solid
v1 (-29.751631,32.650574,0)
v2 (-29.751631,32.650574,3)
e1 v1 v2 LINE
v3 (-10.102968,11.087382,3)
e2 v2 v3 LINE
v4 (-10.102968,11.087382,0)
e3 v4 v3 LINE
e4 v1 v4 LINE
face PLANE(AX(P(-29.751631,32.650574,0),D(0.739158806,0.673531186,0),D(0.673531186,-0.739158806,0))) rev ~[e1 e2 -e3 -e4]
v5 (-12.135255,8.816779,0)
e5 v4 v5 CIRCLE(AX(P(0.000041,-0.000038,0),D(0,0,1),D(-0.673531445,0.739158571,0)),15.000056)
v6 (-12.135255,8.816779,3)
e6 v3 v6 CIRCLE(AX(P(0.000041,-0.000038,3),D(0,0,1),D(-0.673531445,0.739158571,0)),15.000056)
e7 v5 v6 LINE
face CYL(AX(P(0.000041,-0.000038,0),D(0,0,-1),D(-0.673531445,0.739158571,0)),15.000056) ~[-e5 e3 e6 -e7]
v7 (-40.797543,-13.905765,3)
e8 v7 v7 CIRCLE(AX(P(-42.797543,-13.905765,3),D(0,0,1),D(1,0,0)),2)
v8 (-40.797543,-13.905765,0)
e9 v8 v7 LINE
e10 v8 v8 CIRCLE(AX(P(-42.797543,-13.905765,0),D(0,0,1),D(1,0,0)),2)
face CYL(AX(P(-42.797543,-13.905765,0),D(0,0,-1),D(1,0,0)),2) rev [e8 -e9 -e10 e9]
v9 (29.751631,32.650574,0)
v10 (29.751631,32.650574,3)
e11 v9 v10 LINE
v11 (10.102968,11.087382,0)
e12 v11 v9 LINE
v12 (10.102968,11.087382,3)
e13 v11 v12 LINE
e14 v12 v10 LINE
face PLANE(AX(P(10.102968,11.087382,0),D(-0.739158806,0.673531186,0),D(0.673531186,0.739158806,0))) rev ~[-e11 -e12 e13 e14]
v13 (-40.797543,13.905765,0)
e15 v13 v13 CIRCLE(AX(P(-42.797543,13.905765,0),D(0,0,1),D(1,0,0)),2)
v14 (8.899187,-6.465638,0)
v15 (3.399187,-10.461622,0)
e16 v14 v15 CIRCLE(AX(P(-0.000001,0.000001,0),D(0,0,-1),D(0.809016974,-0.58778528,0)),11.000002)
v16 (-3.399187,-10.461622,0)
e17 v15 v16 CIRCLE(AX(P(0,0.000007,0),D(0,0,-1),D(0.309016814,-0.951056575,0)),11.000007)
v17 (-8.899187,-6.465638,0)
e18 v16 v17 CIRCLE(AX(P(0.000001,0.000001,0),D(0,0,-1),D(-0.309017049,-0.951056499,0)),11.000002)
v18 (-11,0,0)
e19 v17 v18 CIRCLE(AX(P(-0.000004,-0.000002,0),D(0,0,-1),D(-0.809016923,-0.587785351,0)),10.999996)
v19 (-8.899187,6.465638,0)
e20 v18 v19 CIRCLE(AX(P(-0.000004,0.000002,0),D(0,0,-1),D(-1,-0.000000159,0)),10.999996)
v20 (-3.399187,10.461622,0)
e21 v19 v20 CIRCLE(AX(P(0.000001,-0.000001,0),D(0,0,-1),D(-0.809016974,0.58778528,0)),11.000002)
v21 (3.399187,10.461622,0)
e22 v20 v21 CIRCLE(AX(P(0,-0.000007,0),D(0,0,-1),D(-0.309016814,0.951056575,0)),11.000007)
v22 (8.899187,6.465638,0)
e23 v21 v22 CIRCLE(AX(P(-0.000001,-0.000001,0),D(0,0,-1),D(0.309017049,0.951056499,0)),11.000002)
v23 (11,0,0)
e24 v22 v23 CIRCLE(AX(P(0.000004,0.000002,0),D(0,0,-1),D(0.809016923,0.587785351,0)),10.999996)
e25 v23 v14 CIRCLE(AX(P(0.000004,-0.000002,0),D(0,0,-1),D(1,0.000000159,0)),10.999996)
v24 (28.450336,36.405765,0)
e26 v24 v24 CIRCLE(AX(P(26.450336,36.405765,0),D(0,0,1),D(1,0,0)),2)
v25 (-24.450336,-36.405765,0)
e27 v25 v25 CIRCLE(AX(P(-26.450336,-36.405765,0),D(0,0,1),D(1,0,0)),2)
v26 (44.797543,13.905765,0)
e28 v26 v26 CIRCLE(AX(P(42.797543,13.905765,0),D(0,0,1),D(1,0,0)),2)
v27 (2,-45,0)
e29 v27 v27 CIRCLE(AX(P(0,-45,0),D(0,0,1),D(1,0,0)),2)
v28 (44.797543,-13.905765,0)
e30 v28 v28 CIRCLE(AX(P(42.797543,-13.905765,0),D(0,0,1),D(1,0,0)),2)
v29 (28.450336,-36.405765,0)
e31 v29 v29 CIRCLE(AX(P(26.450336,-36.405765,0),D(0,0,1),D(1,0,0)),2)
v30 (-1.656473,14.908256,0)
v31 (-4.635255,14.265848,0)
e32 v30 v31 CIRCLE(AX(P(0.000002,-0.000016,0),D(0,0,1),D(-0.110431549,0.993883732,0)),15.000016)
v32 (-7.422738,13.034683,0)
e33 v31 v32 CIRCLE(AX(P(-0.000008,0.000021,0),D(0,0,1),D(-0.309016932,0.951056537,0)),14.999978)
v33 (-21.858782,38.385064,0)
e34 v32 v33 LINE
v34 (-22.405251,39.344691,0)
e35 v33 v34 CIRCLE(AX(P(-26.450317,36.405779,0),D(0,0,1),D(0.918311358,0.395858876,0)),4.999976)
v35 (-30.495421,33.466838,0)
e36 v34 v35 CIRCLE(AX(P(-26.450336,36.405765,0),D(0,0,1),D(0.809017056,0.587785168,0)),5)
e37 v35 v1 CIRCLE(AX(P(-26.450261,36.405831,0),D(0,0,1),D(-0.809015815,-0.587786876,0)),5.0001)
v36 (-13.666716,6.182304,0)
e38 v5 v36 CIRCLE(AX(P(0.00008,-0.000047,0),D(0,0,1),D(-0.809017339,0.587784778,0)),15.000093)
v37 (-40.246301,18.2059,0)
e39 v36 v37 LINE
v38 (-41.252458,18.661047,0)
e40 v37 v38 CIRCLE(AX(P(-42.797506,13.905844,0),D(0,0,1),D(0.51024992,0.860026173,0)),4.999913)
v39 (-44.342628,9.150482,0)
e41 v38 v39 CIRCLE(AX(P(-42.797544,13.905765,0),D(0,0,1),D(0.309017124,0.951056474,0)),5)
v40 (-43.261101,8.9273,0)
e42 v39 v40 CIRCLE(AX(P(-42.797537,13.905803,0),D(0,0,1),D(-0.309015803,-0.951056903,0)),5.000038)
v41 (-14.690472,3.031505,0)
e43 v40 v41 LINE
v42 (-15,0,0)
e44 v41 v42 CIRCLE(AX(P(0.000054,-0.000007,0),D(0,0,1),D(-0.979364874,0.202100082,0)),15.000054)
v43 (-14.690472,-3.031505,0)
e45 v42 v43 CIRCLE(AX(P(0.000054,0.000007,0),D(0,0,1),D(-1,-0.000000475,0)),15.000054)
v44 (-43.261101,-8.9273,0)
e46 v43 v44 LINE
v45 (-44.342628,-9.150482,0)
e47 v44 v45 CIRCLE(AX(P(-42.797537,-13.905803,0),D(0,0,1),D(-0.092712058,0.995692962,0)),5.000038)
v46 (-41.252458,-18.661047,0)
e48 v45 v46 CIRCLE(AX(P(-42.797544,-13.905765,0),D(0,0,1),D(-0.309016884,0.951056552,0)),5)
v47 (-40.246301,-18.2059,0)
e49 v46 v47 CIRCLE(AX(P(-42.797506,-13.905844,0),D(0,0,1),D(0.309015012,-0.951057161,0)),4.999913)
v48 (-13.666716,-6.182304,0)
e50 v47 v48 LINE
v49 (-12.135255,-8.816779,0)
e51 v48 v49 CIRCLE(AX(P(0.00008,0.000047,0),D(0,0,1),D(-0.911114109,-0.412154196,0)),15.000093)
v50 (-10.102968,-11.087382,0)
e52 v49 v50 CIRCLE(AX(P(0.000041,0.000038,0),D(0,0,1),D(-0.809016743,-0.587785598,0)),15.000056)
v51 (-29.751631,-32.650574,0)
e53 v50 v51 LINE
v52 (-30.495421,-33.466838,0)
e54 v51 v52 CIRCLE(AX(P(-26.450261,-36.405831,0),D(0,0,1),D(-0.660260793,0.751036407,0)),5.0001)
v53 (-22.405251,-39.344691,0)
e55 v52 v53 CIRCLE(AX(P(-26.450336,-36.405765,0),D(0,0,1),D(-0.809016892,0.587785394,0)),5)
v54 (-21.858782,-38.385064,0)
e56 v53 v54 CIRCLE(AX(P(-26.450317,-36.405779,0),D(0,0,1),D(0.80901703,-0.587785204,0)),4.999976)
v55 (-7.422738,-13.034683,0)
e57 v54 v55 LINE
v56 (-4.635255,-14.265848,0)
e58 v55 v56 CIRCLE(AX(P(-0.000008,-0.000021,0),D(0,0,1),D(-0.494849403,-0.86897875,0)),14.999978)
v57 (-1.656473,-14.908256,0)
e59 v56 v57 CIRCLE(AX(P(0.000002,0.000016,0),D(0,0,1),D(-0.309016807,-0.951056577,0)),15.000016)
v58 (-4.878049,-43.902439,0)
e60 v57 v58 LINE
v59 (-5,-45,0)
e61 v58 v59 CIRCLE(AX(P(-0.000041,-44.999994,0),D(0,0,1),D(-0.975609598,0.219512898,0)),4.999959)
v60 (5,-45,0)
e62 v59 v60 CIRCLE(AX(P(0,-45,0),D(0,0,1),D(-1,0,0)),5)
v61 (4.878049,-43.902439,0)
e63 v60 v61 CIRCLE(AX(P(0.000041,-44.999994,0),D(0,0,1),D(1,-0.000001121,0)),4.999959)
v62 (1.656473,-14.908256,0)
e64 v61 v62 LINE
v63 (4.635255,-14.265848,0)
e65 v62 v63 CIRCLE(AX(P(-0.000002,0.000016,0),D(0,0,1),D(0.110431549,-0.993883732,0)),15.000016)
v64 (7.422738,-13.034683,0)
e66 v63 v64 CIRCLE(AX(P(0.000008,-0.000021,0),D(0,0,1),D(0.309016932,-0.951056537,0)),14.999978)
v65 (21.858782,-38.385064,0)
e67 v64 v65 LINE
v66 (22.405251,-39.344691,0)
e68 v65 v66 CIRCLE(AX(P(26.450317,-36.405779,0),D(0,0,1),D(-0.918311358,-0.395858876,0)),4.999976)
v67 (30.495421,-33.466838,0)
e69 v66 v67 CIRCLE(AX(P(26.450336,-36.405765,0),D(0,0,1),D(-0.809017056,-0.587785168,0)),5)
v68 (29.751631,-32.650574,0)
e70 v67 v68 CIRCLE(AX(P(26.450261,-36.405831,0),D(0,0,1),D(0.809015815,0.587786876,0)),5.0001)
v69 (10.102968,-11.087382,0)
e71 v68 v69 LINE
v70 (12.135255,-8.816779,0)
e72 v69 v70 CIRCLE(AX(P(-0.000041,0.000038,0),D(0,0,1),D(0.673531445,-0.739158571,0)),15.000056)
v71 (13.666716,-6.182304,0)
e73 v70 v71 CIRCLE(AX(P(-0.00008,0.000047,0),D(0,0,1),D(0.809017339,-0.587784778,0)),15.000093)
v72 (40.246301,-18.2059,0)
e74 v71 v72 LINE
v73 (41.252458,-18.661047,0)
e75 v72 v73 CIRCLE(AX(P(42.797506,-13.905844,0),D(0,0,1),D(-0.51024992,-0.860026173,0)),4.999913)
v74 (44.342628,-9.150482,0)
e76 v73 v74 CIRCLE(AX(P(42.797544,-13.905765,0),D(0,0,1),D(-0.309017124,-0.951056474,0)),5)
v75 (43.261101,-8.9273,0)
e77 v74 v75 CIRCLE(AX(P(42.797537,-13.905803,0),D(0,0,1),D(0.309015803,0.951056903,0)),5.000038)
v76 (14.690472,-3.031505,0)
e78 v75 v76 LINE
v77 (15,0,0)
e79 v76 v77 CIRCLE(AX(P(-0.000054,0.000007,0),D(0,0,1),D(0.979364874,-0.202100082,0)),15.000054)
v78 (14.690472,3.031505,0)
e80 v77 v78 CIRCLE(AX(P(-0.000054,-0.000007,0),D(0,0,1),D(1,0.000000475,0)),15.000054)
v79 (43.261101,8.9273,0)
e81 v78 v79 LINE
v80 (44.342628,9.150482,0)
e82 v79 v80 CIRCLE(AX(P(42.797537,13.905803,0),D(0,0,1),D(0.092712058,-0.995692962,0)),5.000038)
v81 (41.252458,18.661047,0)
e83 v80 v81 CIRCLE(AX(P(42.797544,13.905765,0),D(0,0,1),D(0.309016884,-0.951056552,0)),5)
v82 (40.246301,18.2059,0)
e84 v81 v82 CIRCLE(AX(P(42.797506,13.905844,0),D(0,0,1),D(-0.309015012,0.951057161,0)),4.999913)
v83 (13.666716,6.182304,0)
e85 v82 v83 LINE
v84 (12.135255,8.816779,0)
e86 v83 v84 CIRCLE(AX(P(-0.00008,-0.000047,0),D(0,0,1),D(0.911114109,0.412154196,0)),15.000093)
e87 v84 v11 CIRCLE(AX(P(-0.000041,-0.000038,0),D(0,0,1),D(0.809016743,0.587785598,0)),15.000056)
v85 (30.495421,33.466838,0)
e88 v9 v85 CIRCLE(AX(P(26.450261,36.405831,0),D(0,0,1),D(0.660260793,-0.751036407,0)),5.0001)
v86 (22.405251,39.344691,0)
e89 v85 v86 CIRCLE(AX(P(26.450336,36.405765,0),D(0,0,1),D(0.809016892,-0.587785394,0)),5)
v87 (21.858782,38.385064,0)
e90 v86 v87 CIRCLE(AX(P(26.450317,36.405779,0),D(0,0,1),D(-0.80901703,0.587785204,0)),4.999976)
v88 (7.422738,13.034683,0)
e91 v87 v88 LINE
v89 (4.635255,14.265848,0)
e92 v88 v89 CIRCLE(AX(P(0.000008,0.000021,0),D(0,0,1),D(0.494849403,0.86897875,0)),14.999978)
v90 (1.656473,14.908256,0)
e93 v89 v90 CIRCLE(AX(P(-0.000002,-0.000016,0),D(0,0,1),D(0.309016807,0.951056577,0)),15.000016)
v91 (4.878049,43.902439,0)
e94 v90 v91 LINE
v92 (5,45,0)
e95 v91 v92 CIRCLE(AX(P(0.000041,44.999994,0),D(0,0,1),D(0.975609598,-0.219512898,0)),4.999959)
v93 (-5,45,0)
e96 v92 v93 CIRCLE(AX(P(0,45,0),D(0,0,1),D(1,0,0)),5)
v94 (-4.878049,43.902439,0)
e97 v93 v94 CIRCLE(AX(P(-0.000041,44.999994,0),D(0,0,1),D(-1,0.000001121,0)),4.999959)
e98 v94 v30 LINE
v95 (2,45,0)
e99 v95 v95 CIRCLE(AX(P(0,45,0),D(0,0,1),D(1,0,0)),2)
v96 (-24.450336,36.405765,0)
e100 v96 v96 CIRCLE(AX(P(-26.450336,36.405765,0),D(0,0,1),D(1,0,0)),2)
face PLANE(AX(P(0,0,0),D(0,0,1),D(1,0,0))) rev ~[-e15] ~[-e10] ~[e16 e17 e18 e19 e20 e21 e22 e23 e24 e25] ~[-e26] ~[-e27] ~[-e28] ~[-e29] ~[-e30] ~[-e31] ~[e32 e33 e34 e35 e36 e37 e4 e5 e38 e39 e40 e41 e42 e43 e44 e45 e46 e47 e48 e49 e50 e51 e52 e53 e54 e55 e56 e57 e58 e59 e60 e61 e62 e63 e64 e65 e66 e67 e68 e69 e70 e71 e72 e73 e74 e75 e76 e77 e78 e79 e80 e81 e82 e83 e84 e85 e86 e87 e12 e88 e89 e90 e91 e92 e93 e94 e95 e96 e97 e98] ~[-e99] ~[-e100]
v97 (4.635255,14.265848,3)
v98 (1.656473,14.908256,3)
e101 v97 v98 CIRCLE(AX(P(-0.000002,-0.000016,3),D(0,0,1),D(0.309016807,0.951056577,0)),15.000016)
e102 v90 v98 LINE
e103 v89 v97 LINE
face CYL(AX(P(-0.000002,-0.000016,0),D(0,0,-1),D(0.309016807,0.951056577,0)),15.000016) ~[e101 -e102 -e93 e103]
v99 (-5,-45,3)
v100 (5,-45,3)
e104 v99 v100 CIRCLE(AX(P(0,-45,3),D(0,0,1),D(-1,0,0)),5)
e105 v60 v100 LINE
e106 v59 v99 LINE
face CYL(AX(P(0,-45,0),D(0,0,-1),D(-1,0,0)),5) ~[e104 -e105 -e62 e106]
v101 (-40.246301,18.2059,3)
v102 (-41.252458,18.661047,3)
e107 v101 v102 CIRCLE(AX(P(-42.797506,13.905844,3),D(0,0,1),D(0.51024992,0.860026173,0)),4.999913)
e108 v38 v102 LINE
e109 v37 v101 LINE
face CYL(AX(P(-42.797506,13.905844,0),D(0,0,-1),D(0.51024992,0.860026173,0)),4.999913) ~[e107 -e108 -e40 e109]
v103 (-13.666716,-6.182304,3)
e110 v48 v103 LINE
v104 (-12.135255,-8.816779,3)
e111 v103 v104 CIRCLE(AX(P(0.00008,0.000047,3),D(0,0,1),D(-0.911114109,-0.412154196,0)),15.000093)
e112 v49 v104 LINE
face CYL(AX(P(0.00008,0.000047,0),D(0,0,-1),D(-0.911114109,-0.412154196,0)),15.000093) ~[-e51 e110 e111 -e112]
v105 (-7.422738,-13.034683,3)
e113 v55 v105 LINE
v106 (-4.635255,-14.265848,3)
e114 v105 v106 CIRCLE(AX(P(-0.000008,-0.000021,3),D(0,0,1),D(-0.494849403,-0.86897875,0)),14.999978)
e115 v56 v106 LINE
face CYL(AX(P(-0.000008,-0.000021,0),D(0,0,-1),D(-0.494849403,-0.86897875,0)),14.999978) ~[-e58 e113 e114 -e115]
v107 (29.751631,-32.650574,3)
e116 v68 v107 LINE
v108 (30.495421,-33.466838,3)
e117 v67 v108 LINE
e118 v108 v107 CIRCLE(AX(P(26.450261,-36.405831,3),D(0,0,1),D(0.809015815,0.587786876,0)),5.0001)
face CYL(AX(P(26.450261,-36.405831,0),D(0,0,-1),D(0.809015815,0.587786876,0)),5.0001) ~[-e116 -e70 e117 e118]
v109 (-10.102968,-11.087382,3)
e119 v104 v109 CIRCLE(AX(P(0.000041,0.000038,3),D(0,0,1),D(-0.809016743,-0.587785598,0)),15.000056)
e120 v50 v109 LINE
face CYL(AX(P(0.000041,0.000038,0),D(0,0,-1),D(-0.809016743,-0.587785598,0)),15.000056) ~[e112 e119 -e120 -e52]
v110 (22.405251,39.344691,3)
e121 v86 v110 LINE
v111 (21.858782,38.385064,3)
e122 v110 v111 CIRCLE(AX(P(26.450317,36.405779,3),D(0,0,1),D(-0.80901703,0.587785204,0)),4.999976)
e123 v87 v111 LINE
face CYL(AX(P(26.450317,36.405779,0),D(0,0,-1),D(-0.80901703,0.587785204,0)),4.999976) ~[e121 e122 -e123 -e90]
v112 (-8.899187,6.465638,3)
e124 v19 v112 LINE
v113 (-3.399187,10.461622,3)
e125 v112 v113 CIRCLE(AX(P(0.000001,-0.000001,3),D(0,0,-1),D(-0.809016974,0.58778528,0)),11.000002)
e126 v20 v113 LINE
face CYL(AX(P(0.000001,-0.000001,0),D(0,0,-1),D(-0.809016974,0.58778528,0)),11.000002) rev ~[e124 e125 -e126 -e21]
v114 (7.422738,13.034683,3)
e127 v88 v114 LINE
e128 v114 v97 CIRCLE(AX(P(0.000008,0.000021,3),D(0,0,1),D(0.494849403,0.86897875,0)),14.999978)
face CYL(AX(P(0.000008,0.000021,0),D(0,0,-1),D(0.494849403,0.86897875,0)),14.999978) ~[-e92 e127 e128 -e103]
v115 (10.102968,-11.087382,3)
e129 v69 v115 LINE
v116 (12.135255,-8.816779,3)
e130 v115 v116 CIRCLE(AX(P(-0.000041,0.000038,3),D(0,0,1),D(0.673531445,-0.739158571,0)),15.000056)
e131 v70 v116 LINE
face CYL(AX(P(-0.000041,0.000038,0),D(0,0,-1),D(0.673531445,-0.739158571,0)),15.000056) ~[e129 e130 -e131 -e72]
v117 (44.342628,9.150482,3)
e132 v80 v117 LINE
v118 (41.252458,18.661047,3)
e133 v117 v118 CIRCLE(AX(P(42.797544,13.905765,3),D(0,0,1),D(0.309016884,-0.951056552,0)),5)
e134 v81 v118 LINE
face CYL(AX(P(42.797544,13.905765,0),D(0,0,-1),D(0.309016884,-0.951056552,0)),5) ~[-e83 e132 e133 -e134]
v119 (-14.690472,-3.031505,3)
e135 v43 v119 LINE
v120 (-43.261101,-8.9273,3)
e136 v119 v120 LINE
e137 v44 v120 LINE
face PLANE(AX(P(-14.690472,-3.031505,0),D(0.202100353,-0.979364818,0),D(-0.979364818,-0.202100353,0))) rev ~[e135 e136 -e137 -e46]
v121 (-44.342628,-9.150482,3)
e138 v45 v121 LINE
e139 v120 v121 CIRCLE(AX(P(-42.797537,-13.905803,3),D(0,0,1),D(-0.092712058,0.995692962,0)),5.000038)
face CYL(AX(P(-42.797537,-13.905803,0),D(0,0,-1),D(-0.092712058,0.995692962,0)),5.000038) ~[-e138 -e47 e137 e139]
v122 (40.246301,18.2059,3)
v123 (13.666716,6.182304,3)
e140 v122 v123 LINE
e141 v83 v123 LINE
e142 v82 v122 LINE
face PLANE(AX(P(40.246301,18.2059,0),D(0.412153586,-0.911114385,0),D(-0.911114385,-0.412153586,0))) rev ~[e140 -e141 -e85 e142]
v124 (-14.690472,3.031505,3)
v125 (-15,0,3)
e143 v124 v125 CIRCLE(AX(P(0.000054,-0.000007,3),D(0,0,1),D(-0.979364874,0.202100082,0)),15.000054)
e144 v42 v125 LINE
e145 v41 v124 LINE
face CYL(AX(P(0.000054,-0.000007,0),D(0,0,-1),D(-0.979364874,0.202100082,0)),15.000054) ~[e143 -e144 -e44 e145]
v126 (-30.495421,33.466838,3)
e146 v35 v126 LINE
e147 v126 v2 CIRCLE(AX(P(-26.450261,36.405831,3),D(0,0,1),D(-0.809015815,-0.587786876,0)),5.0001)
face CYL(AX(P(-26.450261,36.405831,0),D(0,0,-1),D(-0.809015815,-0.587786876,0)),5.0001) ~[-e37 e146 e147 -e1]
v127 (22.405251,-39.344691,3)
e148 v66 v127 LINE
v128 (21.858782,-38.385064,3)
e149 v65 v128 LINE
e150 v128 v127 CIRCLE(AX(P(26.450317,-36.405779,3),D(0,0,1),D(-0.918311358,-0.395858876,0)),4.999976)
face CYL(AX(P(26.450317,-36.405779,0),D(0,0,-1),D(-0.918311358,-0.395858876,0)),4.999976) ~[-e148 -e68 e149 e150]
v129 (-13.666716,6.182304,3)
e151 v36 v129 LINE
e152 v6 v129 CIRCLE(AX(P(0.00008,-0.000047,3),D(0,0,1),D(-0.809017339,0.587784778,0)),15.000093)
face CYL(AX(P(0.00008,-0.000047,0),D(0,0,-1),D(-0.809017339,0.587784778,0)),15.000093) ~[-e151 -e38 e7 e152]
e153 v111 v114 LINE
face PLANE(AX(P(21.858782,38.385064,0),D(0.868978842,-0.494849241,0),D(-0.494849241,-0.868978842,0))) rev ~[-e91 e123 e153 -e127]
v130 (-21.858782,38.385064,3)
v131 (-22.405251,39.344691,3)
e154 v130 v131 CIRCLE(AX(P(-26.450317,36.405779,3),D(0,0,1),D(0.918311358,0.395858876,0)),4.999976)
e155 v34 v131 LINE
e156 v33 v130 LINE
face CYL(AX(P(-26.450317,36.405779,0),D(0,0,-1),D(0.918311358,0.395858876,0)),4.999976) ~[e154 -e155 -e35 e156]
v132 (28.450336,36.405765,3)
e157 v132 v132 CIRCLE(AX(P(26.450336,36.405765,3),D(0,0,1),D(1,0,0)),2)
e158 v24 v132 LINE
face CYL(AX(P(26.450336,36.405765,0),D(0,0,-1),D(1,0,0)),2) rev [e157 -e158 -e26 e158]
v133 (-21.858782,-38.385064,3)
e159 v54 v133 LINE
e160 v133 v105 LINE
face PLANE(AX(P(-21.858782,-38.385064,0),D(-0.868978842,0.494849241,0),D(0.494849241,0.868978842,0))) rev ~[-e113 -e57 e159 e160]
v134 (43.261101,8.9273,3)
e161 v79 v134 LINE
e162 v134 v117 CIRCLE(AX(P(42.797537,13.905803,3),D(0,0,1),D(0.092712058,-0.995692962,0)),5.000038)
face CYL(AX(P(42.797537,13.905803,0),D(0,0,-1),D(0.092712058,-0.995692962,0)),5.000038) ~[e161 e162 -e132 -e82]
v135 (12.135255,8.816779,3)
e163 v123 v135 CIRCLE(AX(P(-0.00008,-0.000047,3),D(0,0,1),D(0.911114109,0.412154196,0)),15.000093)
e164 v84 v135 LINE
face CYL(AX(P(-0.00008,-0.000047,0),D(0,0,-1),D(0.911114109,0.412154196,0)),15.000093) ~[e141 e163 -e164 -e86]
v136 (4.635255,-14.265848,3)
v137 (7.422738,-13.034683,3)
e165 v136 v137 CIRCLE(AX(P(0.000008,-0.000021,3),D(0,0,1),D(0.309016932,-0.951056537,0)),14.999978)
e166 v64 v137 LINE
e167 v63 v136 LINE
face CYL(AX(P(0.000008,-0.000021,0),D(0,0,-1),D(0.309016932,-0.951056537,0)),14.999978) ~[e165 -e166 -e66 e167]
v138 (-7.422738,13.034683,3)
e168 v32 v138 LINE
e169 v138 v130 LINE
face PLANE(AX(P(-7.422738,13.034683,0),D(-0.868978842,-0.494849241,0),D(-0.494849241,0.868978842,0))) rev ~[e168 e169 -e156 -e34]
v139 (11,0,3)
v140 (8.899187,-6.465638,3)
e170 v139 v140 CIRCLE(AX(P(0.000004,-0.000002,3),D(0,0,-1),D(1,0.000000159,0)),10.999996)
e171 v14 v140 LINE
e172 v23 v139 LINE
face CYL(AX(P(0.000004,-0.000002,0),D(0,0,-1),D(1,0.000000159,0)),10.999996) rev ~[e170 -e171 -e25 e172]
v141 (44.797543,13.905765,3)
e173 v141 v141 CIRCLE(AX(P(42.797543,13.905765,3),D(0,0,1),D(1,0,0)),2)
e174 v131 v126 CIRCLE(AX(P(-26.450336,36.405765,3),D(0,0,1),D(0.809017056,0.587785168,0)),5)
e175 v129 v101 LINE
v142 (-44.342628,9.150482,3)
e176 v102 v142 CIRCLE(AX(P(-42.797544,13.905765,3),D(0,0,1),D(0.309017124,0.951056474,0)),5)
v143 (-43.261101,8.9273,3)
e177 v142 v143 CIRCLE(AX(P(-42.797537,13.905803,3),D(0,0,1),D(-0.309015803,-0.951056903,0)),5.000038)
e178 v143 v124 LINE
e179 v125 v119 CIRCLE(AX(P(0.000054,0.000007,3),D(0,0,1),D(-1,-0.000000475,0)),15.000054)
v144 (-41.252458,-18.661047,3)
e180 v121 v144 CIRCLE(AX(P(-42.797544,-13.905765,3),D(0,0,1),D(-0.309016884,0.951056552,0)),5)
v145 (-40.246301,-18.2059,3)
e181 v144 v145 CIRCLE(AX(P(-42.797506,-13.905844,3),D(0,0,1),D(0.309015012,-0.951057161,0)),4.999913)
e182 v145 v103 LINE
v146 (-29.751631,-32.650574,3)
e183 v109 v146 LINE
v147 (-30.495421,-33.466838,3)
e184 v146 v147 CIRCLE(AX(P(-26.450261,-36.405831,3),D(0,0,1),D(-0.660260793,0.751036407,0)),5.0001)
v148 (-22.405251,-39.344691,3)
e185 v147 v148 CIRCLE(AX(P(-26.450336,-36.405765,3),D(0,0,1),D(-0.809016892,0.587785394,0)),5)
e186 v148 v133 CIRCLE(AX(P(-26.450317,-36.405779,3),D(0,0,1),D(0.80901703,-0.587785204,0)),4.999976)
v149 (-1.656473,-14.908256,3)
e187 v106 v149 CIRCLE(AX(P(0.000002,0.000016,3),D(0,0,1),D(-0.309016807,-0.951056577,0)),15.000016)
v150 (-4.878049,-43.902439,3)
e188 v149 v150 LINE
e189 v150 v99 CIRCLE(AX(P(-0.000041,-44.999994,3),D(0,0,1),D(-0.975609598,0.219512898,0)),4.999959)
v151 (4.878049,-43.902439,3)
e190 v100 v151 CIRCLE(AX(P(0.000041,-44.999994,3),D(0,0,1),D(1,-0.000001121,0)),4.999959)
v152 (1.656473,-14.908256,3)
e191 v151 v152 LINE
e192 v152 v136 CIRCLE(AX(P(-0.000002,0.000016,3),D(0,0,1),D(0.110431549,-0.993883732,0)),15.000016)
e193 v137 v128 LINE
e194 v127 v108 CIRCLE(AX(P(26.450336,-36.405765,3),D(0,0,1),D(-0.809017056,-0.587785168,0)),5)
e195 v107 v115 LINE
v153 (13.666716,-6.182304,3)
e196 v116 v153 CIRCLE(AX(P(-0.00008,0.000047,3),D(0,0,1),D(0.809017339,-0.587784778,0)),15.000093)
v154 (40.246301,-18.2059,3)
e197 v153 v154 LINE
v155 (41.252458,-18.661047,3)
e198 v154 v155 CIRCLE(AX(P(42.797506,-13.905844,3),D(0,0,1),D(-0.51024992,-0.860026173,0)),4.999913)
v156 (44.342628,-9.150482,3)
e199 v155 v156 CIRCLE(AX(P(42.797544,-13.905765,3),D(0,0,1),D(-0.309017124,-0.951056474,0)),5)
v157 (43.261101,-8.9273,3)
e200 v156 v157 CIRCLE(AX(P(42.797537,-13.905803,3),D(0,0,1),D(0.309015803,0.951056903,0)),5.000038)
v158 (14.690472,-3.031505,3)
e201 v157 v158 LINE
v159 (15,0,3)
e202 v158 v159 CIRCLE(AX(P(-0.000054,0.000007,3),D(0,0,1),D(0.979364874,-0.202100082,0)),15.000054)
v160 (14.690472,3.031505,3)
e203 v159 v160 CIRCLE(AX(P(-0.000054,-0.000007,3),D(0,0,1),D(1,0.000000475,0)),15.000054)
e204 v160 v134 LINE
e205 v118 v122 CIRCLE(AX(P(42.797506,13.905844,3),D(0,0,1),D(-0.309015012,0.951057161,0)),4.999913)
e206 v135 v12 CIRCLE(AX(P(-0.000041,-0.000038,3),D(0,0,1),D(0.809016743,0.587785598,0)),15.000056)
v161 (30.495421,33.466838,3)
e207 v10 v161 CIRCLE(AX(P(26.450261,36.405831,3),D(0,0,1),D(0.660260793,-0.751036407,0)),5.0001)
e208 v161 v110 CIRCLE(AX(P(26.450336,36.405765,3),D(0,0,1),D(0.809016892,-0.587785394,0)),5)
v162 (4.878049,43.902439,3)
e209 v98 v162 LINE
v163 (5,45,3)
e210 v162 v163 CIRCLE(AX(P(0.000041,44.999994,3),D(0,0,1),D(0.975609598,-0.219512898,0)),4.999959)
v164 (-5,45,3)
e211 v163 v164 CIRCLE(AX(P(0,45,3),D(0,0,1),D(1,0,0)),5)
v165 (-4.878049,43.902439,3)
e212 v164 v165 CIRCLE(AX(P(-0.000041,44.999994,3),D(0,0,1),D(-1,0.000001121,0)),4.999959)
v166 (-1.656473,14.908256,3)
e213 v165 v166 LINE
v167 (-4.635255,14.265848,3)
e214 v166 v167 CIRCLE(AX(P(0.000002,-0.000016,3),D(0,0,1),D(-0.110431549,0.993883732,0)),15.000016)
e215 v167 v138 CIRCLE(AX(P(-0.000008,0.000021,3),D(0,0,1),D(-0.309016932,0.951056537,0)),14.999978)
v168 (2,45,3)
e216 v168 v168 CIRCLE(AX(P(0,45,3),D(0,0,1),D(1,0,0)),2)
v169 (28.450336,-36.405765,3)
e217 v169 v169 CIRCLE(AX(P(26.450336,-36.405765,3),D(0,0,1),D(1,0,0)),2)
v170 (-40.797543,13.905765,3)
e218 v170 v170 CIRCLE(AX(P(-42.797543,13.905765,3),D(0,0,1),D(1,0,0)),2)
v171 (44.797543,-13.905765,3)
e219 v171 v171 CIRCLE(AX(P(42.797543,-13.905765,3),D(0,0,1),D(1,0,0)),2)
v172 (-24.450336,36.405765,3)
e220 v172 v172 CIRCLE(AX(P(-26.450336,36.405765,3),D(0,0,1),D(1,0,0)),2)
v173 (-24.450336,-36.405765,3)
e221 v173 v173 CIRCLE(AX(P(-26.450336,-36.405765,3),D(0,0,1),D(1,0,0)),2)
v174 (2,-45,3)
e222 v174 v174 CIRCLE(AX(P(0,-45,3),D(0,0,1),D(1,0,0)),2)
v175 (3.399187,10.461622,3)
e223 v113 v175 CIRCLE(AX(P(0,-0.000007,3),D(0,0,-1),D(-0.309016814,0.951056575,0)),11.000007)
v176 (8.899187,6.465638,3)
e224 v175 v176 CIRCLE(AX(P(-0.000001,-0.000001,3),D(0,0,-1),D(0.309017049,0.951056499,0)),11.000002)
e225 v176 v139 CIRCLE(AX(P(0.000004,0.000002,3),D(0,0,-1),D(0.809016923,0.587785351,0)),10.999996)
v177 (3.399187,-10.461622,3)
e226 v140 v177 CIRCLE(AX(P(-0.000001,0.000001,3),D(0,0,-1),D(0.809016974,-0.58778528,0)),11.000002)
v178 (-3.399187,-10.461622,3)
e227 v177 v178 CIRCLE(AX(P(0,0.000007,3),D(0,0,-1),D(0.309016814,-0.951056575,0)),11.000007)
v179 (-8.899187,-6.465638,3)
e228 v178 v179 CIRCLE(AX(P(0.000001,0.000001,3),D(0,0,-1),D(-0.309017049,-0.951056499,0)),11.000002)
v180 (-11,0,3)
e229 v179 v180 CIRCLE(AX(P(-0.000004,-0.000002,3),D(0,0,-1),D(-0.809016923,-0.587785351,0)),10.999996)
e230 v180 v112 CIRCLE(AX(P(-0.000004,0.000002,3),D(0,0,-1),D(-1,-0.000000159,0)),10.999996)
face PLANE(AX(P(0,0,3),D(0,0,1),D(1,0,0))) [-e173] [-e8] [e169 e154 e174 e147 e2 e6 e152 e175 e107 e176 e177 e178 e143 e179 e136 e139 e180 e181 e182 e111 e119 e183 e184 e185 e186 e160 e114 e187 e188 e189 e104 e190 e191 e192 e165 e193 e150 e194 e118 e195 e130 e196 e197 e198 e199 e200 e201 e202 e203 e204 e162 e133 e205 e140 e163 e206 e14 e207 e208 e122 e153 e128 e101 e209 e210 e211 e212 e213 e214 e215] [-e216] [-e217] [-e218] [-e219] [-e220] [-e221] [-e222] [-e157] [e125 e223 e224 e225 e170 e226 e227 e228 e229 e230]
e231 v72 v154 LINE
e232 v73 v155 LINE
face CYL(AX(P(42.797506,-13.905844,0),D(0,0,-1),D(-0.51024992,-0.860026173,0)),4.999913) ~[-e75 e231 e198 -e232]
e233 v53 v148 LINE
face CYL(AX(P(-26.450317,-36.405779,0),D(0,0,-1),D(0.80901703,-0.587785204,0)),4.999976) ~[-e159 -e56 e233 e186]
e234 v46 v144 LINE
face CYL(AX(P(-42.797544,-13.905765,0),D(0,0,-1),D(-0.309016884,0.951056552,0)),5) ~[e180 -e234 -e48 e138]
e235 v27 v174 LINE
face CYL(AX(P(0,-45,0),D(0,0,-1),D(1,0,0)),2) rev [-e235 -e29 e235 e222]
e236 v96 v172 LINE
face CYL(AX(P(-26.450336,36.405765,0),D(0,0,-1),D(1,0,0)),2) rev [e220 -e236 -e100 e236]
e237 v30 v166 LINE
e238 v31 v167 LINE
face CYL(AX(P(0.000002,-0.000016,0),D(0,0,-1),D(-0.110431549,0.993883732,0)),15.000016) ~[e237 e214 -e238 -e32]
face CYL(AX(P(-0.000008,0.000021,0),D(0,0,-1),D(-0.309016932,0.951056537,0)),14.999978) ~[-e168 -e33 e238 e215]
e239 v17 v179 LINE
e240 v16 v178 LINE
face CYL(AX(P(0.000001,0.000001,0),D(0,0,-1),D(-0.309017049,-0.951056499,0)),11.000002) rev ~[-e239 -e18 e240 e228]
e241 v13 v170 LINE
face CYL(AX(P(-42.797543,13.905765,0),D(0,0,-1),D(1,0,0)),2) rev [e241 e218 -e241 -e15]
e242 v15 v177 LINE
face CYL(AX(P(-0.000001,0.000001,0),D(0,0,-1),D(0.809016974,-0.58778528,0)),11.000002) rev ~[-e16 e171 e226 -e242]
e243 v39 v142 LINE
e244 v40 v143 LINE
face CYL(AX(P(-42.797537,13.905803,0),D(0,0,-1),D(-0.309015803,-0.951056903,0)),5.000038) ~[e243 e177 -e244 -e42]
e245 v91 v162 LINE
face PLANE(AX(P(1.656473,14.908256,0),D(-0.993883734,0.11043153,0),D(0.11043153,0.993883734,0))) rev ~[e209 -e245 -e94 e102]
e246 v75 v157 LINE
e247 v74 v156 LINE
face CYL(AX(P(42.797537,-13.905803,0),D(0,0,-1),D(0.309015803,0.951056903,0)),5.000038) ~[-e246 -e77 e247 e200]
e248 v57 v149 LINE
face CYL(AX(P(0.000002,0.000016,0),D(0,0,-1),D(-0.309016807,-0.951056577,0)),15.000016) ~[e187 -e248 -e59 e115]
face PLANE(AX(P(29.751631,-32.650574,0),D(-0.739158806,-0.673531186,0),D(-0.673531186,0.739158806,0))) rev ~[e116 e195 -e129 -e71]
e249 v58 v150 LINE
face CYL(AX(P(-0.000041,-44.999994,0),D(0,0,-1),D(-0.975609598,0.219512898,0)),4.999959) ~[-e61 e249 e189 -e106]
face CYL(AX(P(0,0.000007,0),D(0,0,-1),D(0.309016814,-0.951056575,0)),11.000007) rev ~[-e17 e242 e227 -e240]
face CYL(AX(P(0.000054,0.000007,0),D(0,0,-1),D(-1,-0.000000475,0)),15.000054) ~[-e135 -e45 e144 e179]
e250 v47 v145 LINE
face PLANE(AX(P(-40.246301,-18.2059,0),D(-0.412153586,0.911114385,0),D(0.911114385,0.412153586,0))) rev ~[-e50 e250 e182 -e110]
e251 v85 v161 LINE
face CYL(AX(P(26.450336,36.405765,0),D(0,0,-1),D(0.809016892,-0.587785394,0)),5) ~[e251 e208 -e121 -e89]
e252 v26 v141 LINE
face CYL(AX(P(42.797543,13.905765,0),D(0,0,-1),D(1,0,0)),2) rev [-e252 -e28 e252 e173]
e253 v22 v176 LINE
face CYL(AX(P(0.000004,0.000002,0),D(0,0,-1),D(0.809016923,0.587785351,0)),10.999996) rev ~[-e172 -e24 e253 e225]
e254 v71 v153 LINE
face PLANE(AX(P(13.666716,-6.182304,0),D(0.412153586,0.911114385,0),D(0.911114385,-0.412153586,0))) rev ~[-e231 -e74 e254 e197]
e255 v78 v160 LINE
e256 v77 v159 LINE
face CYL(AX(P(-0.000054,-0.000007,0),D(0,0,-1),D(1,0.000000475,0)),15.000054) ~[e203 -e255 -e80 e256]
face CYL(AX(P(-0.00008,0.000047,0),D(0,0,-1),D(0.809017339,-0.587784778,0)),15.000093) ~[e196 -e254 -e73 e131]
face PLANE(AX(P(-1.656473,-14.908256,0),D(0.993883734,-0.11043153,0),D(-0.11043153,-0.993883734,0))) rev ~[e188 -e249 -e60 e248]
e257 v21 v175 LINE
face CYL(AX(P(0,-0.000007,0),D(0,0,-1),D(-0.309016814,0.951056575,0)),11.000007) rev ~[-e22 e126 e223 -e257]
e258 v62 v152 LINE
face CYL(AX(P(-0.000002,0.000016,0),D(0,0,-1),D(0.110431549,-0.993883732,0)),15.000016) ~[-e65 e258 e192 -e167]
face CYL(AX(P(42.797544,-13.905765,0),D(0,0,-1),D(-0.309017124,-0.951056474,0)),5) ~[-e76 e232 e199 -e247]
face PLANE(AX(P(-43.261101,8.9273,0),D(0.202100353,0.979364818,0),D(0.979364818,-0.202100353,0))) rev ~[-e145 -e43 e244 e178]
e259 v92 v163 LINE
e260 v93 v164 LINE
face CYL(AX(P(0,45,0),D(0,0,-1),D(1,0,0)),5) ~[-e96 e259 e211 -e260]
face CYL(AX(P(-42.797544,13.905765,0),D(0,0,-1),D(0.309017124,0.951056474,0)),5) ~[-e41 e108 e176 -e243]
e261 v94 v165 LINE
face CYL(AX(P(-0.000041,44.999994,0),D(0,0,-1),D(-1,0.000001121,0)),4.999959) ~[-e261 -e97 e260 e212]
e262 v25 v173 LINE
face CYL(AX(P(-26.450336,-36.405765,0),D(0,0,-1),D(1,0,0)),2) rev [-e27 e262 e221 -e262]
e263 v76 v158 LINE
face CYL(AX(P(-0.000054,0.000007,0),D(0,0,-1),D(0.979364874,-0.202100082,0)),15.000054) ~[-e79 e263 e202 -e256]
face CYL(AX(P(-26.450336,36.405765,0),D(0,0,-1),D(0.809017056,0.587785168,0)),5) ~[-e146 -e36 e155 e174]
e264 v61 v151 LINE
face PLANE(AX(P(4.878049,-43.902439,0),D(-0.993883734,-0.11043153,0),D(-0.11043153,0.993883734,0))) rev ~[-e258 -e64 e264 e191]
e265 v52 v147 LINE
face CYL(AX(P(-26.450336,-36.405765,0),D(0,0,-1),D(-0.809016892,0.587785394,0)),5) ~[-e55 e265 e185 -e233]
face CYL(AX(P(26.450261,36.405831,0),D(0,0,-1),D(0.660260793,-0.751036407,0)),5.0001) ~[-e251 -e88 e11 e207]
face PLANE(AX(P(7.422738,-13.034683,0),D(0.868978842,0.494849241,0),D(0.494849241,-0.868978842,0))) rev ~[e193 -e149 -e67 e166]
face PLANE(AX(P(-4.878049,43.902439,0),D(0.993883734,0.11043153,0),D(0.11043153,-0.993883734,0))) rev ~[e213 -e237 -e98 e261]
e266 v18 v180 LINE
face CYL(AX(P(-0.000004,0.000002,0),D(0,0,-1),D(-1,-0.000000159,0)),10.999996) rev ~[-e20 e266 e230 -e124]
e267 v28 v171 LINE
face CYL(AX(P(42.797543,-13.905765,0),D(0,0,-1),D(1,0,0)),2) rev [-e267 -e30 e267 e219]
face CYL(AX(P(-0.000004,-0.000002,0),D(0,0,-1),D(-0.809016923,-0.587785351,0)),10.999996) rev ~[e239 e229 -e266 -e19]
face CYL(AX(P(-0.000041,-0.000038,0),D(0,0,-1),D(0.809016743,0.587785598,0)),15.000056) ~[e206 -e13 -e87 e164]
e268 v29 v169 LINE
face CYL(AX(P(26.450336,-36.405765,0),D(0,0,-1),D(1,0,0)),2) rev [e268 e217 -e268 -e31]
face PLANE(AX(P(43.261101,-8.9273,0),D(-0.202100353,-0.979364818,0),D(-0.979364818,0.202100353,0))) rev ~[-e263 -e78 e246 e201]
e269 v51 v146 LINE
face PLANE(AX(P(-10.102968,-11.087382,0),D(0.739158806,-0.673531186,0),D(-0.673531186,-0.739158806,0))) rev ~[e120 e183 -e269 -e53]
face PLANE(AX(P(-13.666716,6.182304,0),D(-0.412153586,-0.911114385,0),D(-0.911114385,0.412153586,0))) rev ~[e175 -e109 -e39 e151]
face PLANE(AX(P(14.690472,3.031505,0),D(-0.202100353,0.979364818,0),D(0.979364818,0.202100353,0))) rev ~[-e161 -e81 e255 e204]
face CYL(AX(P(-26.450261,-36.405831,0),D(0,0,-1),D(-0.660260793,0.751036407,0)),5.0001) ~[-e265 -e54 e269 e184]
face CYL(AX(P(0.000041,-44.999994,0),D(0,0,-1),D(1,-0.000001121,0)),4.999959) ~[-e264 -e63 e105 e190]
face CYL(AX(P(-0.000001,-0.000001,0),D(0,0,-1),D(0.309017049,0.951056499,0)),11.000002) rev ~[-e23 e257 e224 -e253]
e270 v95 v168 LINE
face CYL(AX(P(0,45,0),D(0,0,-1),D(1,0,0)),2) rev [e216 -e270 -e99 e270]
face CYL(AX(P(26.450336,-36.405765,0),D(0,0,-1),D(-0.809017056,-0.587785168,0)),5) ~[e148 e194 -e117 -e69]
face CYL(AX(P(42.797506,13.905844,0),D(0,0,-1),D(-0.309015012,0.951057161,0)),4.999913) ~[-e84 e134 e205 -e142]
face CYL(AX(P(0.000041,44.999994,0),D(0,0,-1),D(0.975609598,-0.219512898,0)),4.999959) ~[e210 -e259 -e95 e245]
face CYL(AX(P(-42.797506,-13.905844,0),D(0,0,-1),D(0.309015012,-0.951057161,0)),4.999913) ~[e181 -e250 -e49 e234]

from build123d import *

# Parameters (mm, degrees)
F0_R     = 2
F1_DEPTH = 3


with BuildPart() as f1:
    # F0 (on Top) → F1 (new body)
    with BuildSketch(Plane.XY):
        with BuildLine():
            ThreePointArc((7.422738, 13.034683), (6.060342, 13.721234), (4.635255, 14.265848))
            ThreePointArc((4.635255, 14.265848), (3.162219, 14.662891), (1.656473, 14.908256))
            ThreePointArc((1.656473, 14.908256), (0, 15), (-1.656473, 14.908256))
            ThreePointArc((-1.656473, 14.908256), (-3.162219, 14.662891), (-4.635255, 14.265848))
            ThreePointArc((-4.635255, 14.265848), (-6.060342, 13.721234), (-7.422738, 13.034683))
            ThreePointArc((-7.422738, 13.034683), (-8.816779, 12.135255), (-10.102968, 11.087382))
            ThreePointArc((-10.102968, 11.087382), (-11.17692, 10.003822), (-12.135255, 8.816779))
            ThreePointArc((-12.135255, 8.816779), (-12.968058, 7.538532), (-13.666716, 6.182304))
            ThreePointArc((-13.666716, 6.182304), (-14.265848, 4.635255), (-14.690472, 3.031505))
            ThreePointArc((-14.690472, 3.031505), (-14.922417, 1.523633), (-15, 0))
            ThreePointArc((-15, 0), (-14.922417, -1.523633), (-14.690472, -3.031505))
            ThreePointArc((-14.690472, -3.031505), (-14.265848, -4.635255), (-13.666716, -6.182304))
            ThreePointArc((-13.666716, -6.182304), (-12.968058, -7.538532), (-12.135255, -8.816779))
            ThreePointArc((-12.135255, -8.816779), (-11.17692, -10.003822), (-10.102968, -11.087382))
            ThreePointArc((-10.102968, -11.087382), (-8.816779, -12.135255), (-7.422738, -13.034683))
            ThreePointArc((-7.422738, -13.034683), (-6.060342, -13.721234), (-4.635255, -14.265848))
            ThreePointArc((-4.635255, -14.265848), (-3.162219, -14.662891), (-1.656473, -14.908256))
            ThreePointArc((-1.656473, -14.908256), (0, -15), (1.656473, -14.908256))
            ThreePointArc((1.656473, -14.908256), (3.162219, -14.662891), (4.635255, -14.265848))
            ThreePointArc((4.635255, -14.265848), (6.060342, -13.721234), (7.422738, -13.034683))
            ThreePointArc((7.422738, -13.034683), (8.816779, -12.135255), (10.102968, -11.087382))
            ThreePointArc((10.102968, -11.087382), (11.17692, -10.003822), (12.135255, -8.816779))
            ThreePointArc((12.135255, -8.816779), (12.968058, -7.538532), (13.666716, -6.182304))
            ThreePointArc((13.666716, -6.182304), (14.265848, -4.635255), (14.690472, -3.031505))
            ThreePointArc((14.690472, -3.031505), (14.922417, -1.523633), (15, 0))
            ThreePointArc((15, 0), (14.922417, 1.523633), (14.690472, 3.031505))
            ThreePointArc((14.690472, 3.031505), (14.265848, 4.635255), (13.666716, 6.182304))
            ThreePointArc((13.666716, 6.182304), (12.968058, 7.538532), (12.135255, 8.816779))
            ThreePointArc((12.135255, 8.816779), (11.17692, 10.003822), (10.102968, 11.087382))
            ThreePointArc((10.102968, 11.087382), (8.816779, 12.135255), (7.422738, 13.034683))
        make_face()
        with BuildLine():
            ThreePointArc((-3.399187, 10.461622), (0, 11), (3.399187, 10.461622))
            ThreePointArc((3.399187, 10.461622), (6.465638, 8.899187), (8.899187, 6.465638))
            ThreePointArc((8.899187, 6.465638), (10.461622, 3.399187), (11, 0))
            ThreePointArc((11, 0), (10.461622, -3.399187), (8.899187, -6.465638))
            ThreePointArc((8.899187, -6.465638), (6.465638, -8.899187), (3.399187, -10.461622))
            ThreePointArc((3.399187, -10.461622), (0, -11), (-3.399187, -10.461622))
            ThreePointArc((-3.399187, -10.461622), (-6.465638, -8.899187), (-8.899187, -6.465638))
            ThreePointArc((-8.899187, -6.465638), (-10.461622, -3.399187), (-11, 0))
            ThreePointArc((-11, 0), (-10.461622, 3.399187), (-8.899187, 6.465638))
            ThreePointArc((-8.899187, 6.465638), (-6.465638, 8.899187), (-3.399187, 10.461622))
        make_face(mode=Mode.SUBTRACT)
        with BuildLine():
            ThreePointArc((-1.656473, 14.908256), (0, 15), (1.656473, 14.908256))
            Line((1.656473, 14.908256), (4.878049, 43.902439))
            Line((4.878049, 43.902439), (5, 45))
            ThreePointArc((5, 45), (0, 50), (-5, 45))
            Line((-5, 45), (-4.878049, 43.902439))
            Line((-4.878049, 43.902439), (-1.656473, 14.908256))
        make_face()
        with Locations((0, 45)):
            Circle(F0_R, mode=Mode.SUBTRACT)
        with BuildLine():
            Line((21.858782, 38.385064), (7.422738, 13.034683))
            ThreePointArc((7.422738, 13.034683), (8.816779, 12.135255), (10.102968, 11.087382))
            Line((10.102968, 11.087382), (29.751631, 32.650574))
            Line((29.751631, 32.650574), (30.495421, 33.466838))
            ThreePointArc((30.495421, 33.466838), (29.389263, 40.45085), (22.405251, 39.344691))
            Line((22.405251, 39.344691), (21.858782, 38.385064))
        make_face()
        with Locations((26.450336, 36.405765)):
            Circle(F0_R, mode=Mode.SUBTRACT)
        with BuildLine():
            Line((5, 45), (4.878049, 43.902439))
            ThreePointArc((4.878049, 43.902439), (4.969419, 44.447842), (5, 45))
        make_face()
        with BuildLine():
            ThreePointArc((22.405251, 39.344691), (22.105442, 38.880011), (21.858782, 38.385064))
            Line((21.858782, 38.385064), (22.405251, 39.344691))
        make_face()
        with BuildLine():
            ThreePointArc((-5, 45), (-4.969419, 44.447842), (-4.878049, 43.902439))
            Line((-4.878049, 43.902439), (-5, 45))
        make_face()
        with BuildLine():
            Line((30.495421, 33.466838), (29.751631, 32.650574))
            ThreePointArc((29.751631, 32.650574), (30.14613, 33.038109), (30.495421, 33.466838))
        make_face()
        with BuildLine():
            ThreePointArc((-10.102968, 11.087382), (-8.816779, 12.135255), (-7.422738, 13.034683))
            Line((-7.422738, 13.034683), (-21.858782, 38.385064))
            Line((-21.858782, 38.385064), (-22.405251, 39.344691))
            ThreePointArc((-22.405251, 39.344691), (-29.389263, 40.45085), (-30.495421, 33.466838))
            Line((-30.495421, 33.466838), (-29.751631, 32.650574))
            Line((-29.751631, 32.650574), (-10.102968, 11.087382))
        make_face()
        with Locations((-26.450336, 36.405765)):
            Circle(F0_R, mode=Mode.SUBTRACT)
        with BuildLine():
            Line((40.246301, 18.2059), (13.666716, 6.182304))
            ThreePointArc((13.666716, 6.182304), (14.265848, 4.635255), (14.690472, 3.031505))
            Line((14.690472, 3.031505), (43.261101, 8.9273))
            Line((43.261101, 8.9273), (44.342628, 9.150482))
            ThreePointArc((44.342628, 9.150482), (47.552826, 15.45085), (41.252458, 18.661047))
            Line((41.252458, 18.661047), (40.246301, 18.2059))
        make_face()
        with Locations((42.797543, 13.905765)):
            Circle(F0_R, mode=Mode.SUBTRACT)
        with BuildLine():
            Line((-22.405251, 39.344691), (-21.858782, 38.385064))
            ThreePointArc((-21.858782, 38.385064), (-22.105442, 38.880011), (-22.405251, 39.344691))
        make_face()
        with BuildLine():
            ThreePointArc((41.252458, 18.661047), (40.736775, 18.461337), (40.246301, 18.2059))
            Line((40.246301, 18.2059), (41.252458, 18.661047))
        make_face()
        with BuildLine():
            ThreePointArc((-30.495421, 33.466838), (-30.14613, 33.038109), (-29.751631, 32.650574))
            Line((-29.751631, 32.650574), (-30.495421, 33.466838))
        make_face()
        with BuildLine():
            Line((44.342628, 9.150482), (43.261101, 8.9273))
            ThreePointArc((43.261101, 8.9273), (43.808045, 9.008941), (44.342628, 9.150482))
        make_face()
        with BuildLine():
            ThreePointArc((-14.690472, 3.031505), (-14.265848, 4.635255), (-13.666716, 6.182304))
            Line((-13.666716, 6.182304), (-40.246301, 18.2059))
            Line((-40.246301, 18.2059), (-41.252458, 18.661047))
            ThreePointArc((-41.252458, 18.661047), (-47.552826, 15.45085), (-44.342628, 9.150482))
            Line((-44.342628, 9.150482), (-43.261101, 8.9273))
            Line((-43.261101, 8.9273), (-14.690472, 3.031505))
        make_face()
        with Locations((-42.797543, 13.905765)):
            Circle(F0_R, mode=Mode.SUBTRACT)
        with BuildLine():
            Line((43.261101, -8.9273), (14.690472, -3.031505))
            ThreePointArc((14.690472, -3.031505), (14.265848, -4.635255), (13.666716, -6.182304))
            Line((13.666716, -6.182304), (40.246301, -18.2059))
            Line((40.246301, -18.2059), (41.252458, -18.661047))
            ThreePointArc((41.252458, -18.661047), (47.552826, -15.45085), (44.342628, -9.150482))
            Line((44.342628, -9.150482), (43.261101, -8.9273))
        make_face()
        with Locations((42.797543, -13.905765)):
            Circle(F0_R, mode=Mode.SUBTRACT)
        with BuildLine():
            Line((-41.252458, 18.661047), (-40.246301, 18.2059))
            ThreePointArc((-40.246301, 18.2059), (-40.736775, 18.461337), (-41.252458, 18.661047))
        make_face()
        with BuildLine():
            ThreePointArc((44.342628, -9.150482), (43.808045, -9.008941), (43.261101, -8.9273))
            Line((43.261101, -8.9273), (44.342628, -9.150482))
        make_face()
        with BuildLine():
            ThreePointArc((-44.342628, 9.150482), (-43.808045, 9.008941), (-43.261101, 8.9273))
            Line((-43.261101, 8.9273), (-44.342628, 9.150482))
        make_face()
        with BuildLine():
            Line((41.252458, -18.661047), (40.246301, -18.2059))
            ThreePointArc((40.246301, -18.2059), (40.736775, -18.461337), (41.252458, -18.661047))
        make_face()
        with BuildLine():
            ThreePointArc((-13.666716, -6.182304), (-14.265848, -4.635255), (-14.690472, -3.031505))
            Line((-14.690472, -3.031505), (-43.261101, -8.9273))
            Line((-43.261101, -8.9273), (-44.342628, -9.150482))
            ThreePointArc((-44.342628, -9.150482), (-47.552826, -15.45085), (-41.252458, -18.661047))
            Line((-41.252458, -18.661047), (-40.246301, -18.2059))
            Line((-40.246301, -18.2059), (-13.666716, -6.182304))
        make_face()
        with Locations((-42.797543, -13.905765)):
            Circle(F0_R, mode=Mode.SUBTRACT)
        with BuildLine():
            Line((29.751631, -32.650574), (10.102968, -11.087382))
            ThreePointArc((10.102968, -11.087382), (8.816779, -12.135255), (7.422738, -13.034683))
            Line((7.422738, -13.034683), (21.858782, -38.385064))
            Line((21.858782, -38.385064), (22.405251, -39.344691))
            ThreePointArc((22.405251, -39.344691), (29.389263, -40.45085), (30.495421, -33.466838))
            Line((30.495421, -33.466838), (29.751631, -32.650574))
        make_face()
        with Locations((26.450336, -36.405765)):
            Circle(F0_R, mode=Mode.SUBTRACT)
        with BuildLine():
            Line((-44.342628, -9.150482), (-43.261101, -8.9273))
            ThreePointArc((-43.261101, -8.9273), (-43.808045, -9.008941), (-44.342628, -9.150482))
        make_face()
        with BuildLine():
            ThreePointArc((30.495421, -33.466838), (30.14613, -33.038109), (29.751631, -32.650574))
            Line((29.751631, -32.650574), (30.495421, -33.466838))
        make_face()
        with BuildLine():
            ThreePointArc((-41.252458, -18.661047), (-40.736775, -18.461337), (-40.246301, -18.2059))
            Line((-40.246301, -18.2059), (-41.252458, -18.661047))
        make_face()
        with BuildLine():
            Line((22.405251, -39.344691), (21.858782, -38.385064))
            ThreePointArc((21.858782, -38.385064), (22.105442, -38.880011), (22.405251, -39.344691))
        make_face()
        with BuildLine():
            ThreePointArc((-7.422738, -13.034683), (-8.816779, -12.135255), (-10.102968, -11.087382))
            Line((-10.102968, -11.087382), (-29.751631, -32.650574))
            Line((-29.751631, -32.650574), (-30.495421, -33.466838))
            ThreePointArc((-30.495421, -33.466838), (-29.389263, -40.45085), (-22.405251, -39.344691))
            Line((-22.405251, -39.344691), (-21.858782, -38.385064))
            Line((-21.858782, -38.385064), (-7.422738, -13.034683))
        make_face()
        with Locations((-26.450336, -36.405765)):
            Circle(F0_R, mode=Mode.SUBTRACT)
        with BuildLine():
            Line((4.878049, -43.902439), (1.656473, -14.908256))
            ThreePointArc((1.656473, -14.908256), (0, -15), (-1.656473, -14.908256))
            Line((-1.656473, -14.908256), (-4.878049, -43.902439))
            Line((-4.878049, -43.902439), (-5, -45))
            ThreePointArc((-5, -45), (0, -50), (5, -45))
            Line((5, -45), (4.878049, -43.902439))
        make_face()
        with Locations((0, -45)):
            Circle(F0_R, mode=Mode.SUBTRACT)
        with BuildLine():
            Line((-30.495421, -33.466838), (-29.751631, -32.650574))
            ThreePointArc((-29.751631, -32.650574), (-30.14613, -33.038109), (-30.495421, -33.466838))
        make_face()
        with BuildLine():
            ThreePointArc((5, -45), (4.969419, -44.447842), (4.878049, -43.902439))
            Line((4.878049, -43.902439), (5, -45))
        make_face()
        with BuildLine():
            ThreePointArc((-22.405251, -39.344691), (-22.105442, -38.880011), (-21.858782, -38.385064))
            Line((-21.858782, -38.385064), (-22.405251, -39.344691))
        make_face()
        with BuildLine():
            Line((-5, -45), (-4.878049, -43.902439))
            ThreePointArc((-4.878049, -43.902439), (-4.969419, -44.447842), (-5, -45))
        make_face()
    extrude(amount=F1_DEPTH)


solid = f1.part
